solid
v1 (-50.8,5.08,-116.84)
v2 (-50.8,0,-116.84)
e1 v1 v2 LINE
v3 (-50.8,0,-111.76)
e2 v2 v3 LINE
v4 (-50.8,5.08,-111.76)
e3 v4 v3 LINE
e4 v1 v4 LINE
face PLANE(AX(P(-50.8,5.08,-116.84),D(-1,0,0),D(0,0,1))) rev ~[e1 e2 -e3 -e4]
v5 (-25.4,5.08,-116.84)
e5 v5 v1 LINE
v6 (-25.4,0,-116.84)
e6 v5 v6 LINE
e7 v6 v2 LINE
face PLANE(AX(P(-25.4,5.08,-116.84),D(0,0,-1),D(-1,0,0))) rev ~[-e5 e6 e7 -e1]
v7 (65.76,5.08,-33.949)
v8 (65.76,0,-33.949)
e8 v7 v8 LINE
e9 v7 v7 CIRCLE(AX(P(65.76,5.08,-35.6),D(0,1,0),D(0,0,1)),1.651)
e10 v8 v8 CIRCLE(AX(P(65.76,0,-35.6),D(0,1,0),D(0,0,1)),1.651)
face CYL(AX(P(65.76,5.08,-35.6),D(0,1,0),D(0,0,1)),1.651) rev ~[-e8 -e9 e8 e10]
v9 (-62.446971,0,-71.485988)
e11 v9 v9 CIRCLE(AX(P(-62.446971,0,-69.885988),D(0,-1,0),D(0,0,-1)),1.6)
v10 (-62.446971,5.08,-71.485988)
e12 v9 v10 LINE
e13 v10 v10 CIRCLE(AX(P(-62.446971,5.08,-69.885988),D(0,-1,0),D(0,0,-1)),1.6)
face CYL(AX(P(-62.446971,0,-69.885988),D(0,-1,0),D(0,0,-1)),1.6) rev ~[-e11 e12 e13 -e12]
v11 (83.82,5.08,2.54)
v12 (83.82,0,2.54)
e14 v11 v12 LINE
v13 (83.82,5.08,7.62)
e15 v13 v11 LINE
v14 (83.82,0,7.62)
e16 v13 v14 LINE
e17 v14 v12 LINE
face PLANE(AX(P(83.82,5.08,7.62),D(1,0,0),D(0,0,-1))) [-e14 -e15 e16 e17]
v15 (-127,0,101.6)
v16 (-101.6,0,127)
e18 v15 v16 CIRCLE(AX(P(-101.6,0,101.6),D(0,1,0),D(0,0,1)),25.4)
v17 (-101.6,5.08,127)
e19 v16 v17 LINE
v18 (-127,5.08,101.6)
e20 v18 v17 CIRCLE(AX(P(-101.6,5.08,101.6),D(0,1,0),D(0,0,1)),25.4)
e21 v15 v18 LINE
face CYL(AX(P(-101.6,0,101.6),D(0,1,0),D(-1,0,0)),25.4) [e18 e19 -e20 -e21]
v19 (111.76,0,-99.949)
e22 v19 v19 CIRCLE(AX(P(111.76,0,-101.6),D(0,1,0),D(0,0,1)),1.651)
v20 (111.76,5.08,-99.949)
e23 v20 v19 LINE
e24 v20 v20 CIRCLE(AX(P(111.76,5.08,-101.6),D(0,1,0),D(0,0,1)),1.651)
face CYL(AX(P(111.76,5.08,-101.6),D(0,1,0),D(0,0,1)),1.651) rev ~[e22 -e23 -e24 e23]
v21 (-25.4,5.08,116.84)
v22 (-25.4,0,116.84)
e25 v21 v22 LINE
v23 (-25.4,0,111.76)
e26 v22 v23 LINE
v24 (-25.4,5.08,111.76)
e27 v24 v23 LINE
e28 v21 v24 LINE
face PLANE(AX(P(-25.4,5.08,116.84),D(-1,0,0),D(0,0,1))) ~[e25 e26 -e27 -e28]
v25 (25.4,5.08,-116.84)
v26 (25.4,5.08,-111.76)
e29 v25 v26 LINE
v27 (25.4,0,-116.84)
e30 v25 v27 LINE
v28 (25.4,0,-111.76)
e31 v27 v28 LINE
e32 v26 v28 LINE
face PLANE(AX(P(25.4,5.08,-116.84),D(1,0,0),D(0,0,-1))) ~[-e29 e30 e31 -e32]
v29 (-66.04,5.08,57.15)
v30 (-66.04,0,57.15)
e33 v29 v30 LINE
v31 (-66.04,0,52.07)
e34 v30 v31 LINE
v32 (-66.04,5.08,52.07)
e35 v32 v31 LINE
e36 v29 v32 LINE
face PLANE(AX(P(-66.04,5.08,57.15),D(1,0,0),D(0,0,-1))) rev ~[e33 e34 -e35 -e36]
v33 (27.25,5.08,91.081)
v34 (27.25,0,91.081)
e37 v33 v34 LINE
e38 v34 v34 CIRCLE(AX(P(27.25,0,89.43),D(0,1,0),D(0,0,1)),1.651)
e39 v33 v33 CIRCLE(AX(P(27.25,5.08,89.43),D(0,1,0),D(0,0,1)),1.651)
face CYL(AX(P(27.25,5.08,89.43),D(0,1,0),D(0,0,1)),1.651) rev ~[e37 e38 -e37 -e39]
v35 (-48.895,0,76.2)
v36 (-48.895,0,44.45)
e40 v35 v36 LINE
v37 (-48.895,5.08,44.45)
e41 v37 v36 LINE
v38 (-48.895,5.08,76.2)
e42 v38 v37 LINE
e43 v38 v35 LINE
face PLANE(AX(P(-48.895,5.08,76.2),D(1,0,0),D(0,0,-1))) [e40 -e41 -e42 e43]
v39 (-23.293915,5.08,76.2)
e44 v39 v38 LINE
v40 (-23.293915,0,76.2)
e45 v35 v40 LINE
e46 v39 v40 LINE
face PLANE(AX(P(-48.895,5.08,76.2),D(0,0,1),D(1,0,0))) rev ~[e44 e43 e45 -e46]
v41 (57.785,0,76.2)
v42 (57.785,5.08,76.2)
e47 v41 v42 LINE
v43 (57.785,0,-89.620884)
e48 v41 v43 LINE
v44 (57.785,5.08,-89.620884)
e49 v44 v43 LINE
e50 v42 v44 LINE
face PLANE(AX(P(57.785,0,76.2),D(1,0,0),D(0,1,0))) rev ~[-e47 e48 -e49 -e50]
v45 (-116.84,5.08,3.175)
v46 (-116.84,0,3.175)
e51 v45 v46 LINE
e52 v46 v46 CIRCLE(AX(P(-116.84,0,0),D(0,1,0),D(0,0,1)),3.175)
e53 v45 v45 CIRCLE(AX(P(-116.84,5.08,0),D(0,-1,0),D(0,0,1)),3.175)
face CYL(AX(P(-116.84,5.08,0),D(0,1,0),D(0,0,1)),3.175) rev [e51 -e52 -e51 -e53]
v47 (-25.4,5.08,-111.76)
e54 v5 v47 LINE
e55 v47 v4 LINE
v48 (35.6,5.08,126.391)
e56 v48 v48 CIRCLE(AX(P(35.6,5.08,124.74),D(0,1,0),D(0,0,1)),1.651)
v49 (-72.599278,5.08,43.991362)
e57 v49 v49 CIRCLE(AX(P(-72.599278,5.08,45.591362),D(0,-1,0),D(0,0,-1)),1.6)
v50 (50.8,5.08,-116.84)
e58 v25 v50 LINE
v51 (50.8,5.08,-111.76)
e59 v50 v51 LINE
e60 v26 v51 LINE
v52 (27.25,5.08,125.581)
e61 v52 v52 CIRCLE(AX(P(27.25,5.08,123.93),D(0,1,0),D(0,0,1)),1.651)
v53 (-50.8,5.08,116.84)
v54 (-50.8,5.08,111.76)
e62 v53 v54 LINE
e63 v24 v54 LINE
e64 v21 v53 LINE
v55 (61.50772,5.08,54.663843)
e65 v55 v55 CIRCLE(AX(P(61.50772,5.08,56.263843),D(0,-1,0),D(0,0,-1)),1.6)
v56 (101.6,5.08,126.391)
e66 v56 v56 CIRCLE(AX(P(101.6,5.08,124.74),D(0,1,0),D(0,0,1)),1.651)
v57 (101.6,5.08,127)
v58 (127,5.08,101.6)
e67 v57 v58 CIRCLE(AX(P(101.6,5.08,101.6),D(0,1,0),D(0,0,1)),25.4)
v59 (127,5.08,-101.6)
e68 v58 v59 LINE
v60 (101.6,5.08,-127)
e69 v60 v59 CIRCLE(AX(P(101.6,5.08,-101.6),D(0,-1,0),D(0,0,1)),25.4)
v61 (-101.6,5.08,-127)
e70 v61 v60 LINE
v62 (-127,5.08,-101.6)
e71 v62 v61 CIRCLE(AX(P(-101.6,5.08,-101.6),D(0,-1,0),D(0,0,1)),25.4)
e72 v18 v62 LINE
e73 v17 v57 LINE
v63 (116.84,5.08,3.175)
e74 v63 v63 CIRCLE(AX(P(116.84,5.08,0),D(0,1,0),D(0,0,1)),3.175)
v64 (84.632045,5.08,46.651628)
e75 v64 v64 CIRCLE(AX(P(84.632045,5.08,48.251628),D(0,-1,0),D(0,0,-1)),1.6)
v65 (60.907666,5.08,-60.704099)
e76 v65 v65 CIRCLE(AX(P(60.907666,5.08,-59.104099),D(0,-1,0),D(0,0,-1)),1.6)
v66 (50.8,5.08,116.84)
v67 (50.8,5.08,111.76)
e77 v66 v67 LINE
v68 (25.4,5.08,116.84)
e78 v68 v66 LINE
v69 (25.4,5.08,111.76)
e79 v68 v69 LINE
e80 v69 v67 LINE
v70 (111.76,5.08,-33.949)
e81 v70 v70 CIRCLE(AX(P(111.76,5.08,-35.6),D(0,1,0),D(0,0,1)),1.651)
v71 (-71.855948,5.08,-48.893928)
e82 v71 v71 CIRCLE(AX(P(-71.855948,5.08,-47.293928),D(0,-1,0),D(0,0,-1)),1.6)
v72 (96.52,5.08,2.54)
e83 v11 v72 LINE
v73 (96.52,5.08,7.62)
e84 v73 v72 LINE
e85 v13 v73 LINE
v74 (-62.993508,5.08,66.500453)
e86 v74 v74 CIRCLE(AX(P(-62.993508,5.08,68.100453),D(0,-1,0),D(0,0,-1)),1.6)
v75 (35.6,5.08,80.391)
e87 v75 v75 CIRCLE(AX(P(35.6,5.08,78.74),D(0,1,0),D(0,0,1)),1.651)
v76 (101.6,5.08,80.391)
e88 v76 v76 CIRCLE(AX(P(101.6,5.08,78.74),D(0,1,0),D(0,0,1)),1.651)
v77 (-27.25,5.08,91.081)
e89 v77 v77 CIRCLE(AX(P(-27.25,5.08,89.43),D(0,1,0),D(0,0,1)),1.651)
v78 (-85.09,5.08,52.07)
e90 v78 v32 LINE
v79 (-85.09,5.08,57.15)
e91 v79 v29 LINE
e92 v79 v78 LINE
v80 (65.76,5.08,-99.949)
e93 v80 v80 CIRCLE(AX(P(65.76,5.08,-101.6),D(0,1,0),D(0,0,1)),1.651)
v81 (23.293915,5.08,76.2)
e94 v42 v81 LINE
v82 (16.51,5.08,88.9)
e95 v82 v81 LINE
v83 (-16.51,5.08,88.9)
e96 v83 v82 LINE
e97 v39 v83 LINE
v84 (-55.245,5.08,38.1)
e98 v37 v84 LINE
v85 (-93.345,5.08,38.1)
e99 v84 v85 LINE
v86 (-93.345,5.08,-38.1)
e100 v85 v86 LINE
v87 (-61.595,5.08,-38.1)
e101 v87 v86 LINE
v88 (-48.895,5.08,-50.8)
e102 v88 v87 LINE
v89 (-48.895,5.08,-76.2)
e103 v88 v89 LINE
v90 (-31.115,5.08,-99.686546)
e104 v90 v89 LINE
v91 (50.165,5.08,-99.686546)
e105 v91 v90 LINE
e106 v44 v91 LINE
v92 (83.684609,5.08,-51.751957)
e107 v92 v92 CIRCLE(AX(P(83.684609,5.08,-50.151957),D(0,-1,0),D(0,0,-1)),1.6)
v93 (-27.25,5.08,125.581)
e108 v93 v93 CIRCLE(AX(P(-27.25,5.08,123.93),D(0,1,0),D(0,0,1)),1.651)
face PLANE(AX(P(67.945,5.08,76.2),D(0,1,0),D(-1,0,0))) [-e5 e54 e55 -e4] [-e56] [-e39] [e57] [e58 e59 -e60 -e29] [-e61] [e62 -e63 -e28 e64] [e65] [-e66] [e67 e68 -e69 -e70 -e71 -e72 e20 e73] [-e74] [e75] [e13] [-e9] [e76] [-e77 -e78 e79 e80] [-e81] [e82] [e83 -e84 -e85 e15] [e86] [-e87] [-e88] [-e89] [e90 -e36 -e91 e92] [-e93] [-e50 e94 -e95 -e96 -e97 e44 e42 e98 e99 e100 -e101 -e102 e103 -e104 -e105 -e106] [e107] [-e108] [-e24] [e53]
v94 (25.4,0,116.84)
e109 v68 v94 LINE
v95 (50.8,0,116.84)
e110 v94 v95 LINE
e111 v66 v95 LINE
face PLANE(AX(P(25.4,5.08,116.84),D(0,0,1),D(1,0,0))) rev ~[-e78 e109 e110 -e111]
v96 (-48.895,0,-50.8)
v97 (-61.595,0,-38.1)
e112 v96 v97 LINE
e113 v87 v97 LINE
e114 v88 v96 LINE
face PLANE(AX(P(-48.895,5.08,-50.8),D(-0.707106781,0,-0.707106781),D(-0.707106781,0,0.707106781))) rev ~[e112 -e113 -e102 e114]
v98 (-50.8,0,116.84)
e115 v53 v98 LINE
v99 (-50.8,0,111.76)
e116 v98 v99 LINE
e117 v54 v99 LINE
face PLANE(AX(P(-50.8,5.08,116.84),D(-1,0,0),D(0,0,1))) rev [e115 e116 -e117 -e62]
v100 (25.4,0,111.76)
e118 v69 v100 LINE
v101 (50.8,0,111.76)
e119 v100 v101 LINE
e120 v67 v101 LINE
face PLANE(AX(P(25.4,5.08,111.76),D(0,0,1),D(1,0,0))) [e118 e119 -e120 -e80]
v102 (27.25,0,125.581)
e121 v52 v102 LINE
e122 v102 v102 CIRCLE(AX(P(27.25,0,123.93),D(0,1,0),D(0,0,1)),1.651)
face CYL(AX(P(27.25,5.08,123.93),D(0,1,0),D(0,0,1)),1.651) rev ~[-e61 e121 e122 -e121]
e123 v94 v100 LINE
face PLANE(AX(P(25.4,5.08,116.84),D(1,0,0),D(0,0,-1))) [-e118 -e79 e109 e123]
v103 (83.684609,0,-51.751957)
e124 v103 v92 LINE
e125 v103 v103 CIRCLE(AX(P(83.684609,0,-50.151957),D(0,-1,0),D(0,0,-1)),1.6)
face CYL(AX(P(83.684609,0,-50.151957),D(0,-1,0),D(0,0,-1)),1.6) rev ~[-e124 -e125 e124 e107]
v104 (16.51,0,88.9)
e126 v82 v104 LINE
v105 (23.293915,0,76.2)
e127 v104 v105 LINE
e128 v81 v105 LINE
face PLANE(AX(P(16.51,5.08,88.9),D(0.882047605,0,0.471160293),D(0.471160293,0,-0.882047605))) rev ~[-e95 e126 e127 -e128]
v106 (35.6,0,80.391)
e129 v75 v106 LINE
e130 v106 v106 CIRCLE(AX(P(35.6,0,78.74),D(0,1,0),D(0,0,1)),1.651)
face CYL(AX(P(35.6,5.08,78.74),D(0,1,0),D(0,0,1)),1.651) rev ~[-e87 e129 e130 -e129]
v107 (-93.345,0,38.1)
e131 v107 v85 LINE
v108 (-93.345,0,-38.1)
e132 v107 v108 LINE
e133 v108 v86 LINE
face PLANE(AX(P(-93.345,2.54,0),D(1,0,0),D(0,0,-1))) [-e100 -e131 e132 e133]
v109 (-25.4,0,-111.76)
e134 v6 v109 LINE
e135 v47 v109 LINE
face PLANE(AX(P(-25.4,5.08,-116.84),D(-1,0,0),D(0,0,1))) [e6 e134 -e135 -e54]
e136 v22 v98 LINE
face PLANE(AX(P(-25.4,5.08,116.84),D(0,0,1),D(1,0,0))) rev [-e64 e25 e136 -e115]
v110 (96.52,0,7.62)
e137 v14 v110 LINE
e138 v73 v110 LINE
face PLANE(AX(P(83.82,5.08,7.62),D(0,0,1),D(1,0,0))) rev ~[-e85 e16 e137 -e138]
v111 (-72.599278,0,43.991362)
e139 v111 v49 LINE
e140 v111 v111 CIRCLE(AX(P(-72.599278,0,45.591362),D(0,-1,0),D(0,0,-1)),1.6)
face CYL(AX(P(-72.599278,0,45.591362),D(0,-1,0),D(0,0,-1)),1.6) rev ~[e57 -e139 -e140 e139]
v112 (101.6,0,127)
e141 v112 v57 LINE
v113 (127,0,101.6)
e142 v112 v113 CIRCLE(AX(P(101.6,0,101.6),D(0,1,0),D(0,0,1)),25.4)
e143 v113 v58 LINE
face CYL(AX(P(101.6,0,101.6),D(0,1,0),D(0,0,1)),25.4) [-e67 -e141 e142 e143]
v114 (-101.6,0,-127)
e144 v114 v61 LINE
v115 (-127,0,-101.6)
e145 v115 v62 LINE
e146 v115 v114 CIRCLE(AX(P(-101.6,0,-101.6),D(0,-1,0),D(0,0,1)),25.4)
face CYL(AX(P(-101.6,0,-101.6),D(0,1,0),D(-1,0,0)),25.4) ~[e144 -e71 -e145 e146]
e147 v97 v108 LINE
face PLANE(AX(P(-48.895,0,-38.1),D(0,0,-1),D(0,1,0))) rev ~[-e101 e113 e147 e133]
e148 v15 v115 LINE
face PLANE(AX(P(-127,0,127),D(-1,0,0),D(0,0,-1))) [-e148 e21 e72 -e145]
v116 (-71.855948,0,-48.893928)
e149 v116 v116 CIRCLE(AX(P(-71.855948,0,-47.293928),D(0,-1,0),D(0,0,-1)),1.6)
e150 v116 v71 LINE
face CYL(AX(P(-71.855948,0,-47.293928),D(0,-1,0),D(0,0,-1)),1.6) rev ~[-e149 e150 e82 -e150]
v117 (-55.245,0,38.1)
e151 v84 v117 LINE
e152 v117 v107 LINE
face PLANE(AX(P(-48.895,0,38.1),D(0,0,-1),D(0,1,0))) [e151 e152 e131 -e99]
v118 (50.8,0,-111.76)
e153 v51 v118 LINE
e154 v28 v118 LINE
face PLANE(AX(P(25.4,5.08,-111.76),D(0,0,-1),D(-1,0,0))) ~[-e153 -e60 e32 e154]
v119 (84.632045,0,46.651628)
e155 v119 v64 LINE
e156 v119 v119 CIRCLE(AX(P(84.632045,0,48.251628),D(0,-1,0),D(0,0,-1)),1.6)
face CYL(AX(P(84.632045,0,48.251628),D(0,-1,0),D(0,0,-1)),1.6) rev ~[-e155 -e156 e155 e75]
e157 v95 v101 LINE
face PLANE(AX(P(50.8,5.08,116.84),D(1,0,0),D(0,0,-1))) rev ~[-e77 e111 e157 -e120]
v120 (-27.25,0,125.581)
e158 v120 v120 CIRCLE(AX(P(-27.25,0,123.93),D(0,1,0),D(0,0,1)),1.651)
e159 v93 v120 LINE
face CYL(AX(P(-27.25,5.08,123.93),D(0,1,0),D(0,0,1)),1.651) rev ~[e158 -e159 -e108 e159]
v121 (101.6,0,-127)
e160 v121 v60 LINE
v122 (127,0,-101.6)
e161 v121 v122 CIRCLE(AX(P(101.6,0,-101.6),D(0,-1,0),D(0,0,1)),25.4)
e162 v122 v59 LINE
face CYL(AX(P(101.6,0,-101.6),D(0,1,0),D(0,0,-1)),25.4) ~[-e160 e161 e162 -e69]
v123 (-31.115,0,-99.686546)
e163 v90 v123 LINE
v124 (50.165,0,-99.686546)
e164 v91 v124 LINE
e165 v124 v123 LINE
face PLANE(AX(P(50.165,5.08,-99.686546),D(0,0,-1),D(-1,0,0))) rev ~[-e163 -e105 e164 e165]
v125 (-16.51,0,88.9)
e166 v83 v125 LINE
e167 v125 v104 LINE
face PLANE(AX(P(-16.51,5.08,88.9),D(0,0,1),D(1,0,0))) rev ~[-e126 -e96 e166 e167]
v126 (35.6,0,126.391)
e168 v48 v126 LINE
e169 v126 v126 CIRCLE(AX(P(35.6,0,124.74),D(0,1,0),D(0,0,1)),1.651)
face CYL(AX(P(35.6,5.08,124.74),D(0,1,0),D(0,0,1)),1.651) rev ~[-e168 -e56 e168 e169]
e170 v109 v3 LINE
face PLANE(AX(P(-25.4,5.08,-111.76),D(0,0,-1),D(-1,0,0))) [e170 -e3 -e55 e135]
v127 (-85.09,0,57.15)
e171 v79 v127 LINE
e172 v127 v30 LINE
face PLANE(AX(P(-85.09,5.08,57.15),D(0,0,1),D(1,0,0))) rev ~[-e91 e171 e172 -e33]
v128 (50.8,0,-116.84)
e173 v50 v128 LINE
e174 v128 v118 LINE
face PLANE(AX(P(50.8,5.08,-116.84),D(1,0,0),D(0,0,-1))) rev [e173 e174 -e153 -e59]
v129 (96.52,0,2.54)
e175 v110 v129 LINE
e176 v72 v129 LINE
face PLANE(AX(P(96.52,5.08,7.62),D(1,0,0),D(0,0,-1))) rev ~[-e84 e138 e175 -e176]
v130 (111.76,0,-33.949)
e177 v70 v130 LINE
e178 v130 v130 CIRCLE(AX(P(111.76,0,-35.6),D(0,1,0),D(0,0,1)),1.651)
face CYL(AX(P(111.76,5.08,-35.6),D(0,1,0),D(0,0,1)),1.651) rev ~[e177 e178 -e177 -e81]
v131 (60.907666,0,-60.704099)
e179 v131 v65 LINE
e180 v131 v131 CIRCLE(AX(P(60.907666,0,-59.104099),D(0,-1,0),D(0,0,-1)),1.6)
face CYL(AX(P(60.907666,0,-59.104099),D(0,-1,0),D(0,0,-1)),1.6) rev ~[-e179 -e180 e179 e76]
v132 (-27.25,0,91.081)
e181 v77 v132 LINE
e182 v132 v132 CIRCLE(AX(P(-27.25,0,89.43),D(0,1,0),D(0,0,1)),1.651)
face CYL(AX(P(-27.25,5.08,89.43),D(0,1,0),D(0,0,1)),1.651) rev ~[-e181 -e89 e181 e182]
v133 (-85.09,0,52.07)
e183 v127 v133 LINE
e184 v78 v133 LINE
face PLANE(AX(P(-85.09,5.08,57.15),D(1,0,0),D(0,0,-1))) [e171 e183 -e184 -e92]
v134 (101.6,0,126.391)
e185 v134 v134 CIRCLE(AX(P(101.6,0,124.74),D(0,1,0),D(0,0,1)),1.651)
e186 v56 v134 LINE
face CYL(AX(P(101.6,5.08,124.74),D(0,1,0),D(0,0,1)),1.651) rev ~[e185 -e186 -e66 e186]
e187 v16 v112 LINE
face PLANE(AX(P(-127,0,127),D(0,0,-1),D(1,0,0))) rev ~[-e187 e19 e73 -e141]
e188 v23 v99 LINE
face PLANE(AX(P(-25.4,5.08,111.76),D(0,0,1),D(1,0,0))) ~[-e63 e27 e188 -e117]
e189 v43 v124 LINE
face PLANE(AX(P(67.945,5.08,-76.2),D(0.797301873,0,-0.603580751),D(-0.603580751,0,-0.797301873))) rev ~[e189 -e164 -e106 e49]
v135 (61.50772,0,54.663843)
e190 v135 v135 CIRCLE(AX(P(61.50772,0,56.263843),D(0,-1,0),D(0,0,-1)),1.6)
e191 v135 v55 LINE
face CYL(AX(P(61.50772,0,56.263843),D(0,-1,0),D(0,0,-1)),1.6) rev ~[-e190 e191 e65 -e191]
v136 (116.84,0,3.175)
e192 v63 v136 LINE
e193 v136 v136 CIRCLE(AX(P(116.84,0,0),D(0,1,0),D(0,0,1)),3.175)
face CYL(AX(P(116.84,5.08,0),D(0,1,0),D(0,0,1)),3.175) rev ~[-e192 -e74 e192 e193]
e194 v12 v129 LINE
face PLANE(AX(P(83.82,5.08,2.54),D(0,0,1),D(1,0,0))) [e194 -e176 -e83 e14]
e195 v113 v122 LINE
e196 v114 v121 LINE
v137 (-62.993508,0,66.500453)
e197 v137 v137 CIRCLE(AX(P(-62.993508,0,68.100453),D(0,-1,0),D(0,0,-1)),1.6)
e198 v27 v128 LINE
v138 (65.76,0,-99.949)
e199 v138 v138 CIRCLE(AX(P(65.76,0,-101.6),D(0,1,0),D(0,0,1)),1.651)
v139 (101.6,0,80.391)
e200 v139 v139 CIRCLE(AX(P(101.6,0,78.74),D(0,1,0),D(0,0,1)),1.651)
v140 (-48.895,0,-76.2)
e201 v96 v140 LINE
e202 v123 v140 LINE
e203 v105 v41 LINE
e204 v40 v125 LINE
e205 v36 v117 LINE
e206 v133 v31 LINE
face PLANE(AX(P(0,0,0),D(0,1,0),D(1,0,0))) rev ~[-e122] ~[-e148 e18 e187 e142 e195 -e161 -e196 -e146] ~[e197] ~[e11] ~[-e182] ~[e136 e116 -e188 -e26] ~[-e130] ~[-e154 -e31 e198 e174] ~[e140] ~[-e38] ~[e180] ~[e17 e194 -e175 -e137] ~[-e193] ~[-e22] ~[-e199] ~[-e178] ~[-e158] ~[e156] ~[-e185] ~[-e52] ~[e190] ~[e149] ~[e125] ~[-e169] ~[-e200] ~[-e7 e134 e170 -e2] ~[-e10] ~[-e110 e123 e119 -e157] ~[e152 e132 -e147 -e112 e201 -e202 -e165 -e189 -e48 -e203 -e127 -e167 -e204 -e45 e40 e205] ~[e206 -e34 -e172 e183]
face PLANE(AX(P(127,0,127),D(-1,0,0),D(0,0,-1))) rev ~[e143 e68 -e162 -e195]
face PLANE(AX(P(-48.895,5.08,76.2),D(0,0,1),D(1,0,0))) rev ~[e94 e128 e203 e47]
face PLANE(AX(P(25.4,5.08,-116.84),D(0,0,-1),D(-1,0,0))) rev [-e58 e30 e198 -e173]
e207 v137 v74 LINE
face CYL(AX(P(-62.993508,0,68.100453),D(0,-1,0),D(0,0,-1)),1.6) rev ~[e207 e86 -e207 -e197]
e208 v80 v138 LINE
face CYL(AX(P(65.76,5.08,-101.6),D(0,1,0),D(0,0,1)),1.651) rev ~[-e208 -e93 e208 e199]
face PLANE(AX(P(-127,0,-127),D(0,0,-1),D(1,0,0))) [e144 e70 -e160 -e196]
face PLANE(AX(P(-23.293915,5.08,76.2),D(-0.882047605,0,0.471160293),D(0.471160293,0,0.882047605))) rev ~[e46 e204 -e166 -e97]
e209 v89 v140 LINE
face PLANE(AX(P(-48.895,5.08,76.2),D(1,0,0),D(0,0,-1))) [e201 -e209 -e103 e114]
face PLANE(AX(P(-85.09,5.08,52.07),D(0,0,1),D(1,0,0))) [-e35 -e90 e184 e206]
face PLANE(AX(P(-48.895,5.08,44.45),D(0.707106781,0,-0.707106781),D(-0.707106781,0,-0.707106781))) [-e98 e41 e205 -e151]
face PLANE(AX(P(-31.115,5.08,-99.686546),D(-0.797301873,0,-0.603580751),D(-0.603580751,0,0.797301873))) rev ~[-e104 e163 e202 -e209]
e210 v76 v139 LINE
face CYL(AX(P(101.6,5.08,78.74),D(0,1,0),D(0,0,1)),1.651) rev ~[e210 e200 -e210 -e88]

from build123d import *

# Parameters (mm, degrees)
SKETCH1_W               = 254
SKETCH1_H               = 254
PLATFORM_BASE_DEPTH     = 5.08
SKETCH5_W               = 97.79
SKETCH5_H               = 152.4
CUT_EXTRUDE3_DEPTH      = 180.676950108
SKETCH6_W               = 25.4
SKETCH6_H               = 5.08
CUT_EXTRUDE4_DEPTH      = 180.676950108
CORNER_ROUNDING_R       = 25.4
MIRROR6_COPY_1_SKETCH_W = 25.4
MIRROR6_COPY_1_SKETCH_H = 5.08
MIRROR6_COPY_1_DEPTH    = 180.676950108
MIRROR6_COPY_2_SKETCH_W = 25.4
MIRROR6_COPY_2_SKETCH_H = 5.08
MIRROR6_COPY_2_DEPTH    = 180.676950108
SKETCH7_R               = 3.175
CUT_EXTRUDE5_DEPTH      = 180.676950108
SKETCH11_W              = 12.7
SKETCH11_H              = 5.08
CUT_EXTRUDE8_DEPTH      = 180.676950108
SKETCH12_W              = 19.05
SKETCH12_H              = 5.08
CUT_EXTRUDE10_DEPTH     = 16.51
SKETCH14_W              = 152.4
SKETCH14_H              = 8.030698274
CUT_EXTRUDE12_DEPTH     = 19.05
SKETCH16_W              = 76.2
SKETCH16_H              = 5.08
CUT_EXTRUDE14_DEPTH     = 44.45
CUT_EXTRUDE16_DEPTH     = 180.676950108
CUT_EXTRUDE18_DEPTH     = 180.676950108
CUT_EXTRUDE19_DEPTH     = 180.676950108
CUT_EXTRUDE20_DEPTH     = 180.676950108
SKETCH27_W              = 10.16
SKETCH27_H              = 5.08
BOSS_EXTRUDE1_DEPTH     = 177.8
SKETCH28_R              = 1.6
CUT_EXTRUDE22_DEPTH     = 180.676950108
SKETCH29_R              = 1.651
CUT_EXTRUDE23_DEPTH     = 180.676950108
SKETCH30_R              = 1.651
CUT_EXTRUDE24_DEPTH     = 180.676950108
SKETCH32_R              = 1.651
CUT_EXTRUDE26_DEPTH     = 180.676950108


with BuildPart() as part:
    # Sketch1 → Platform-Base (new body)
    with BuildSketch(Plane(origin=(0, 0, 0), x_dir=(1, 0, 0), z_dir=(0, 1, 0))):
        Rectangle(SKETCH1_W, SKETCH1_H)
    extrude(amount=PLATFORM_BASE_DEPTH)

    # Sketch5 → Cut-Extrude3 (cut, through all)
    with BuildSketch(Plane(origin=(0, 5.08, 0), x_dir=(1, 0, 0), z_dir=(0, 1, 0))):
        Rectangle(SKETCH5_W, SKETCH5_H)
    extrude(amount=-CUT_EXTRUDE3_DEPTH, mode=Mode.SUBTRACT)

    # Sketch6 → Cut-Extrude4 (cut, through all)
    with BuildSketch(Plane(origin=(0, 5.08, 0), x_dir=(1, 0, 0), z_dir=(0, 1, 0))):
        with Locations((38.1, -114.3)):
            Rectangle(SKETCH6_W, SKETCH6_H)
    cut_extrude4 = extrude(amount=-CUT_EXTRUDE4_DEPTH, mode=Mode.SUBTRACT)

    # Mirror4: Cut-Extrude4 across plane
    add(cut_extrude4.mirror(Plane.XY), mode=Mode.SUBTRACT)

    # Corner-Rounding
    corner_rounding_edges = [part.edges().sort_by_distance(p)[0] for p in [
        (-127, 2.54, -127),
        (127, 2.54, -127),
        (127, 2.54, 127),
        (-127, 2.54, 127),
    ]]
    fillet(corner_rounding_edges, radius=CORNER_ROUNDING_R)

    # Mirror6 copy 1 sketch → Mirror6 copy 1 (cut, through all)
    with BuildSketch(Plane(origin=(0, 5.08, 0), x_dir=(-1, 0, 0), z_dir=(0, 1, 0))):
        with Locations((38.1, -114.3)):
            Rectangle(MIRROR6_COPY_1_SKETCH_W, MIRROR6_COPY_1_SKETCH_H)
    extrude(amount=-MIRROR6_COPY_1_DEPTH, mode=Mode.SUBTRACT)

    # Mirror6 copy 2 sketch → Mirror6 copy 2 (cut, through all)
    with BuildSketch(Plane(origin=(0, 5.08, 0), x_dir=(-1, 0, 0), z_dir=(0, 1, 0))):
        with Locations((38.1, 114.3)):
            Rectangle(MIRROR6_COPY_2_SKETCH_W, MIRROR6_COPY_2_SKETCH_H)
    extrude(amount=-MIRROR6_COPY_2_DEPTH, mode=Mode.SUBTRACT)

    # Sketch7 → Cut-Extrude5 (cut, through all)
    with BuildSketch(Plane(origin=(0, 5.08, 0), x_dir=(1, 0, 0), z_dir=(0, 1, 0))):
        with Locations((116.84, 0)):
            Circle(SKETCH7_R)
    cut_extrude5 = extrude(amount=-CUT_EXTRUDE5_DEPTH, mode=Mode.SUBTRACT)

    # Mirror7: Cut-Extrude5 across plane
    add(cut_extrude5.mirror(Plane.ZY), mode=Mode.SUBTRACT)

    # Sketch11 → Cut-Extrude8 (cut, through all)
    with BuildSketch(Plane(origin=(0, 5.08, 0), x_dir=(1, 0, 0), z_dir=(0, 1, 0))):
        with Locations((90.17, -5.08)):
            Rectangle(SKETCH11_W, SKETCH11_H)
    extrude(amount=-CUT_EXTRUDE8_DEPTH, mode=Mode.SUBTRACT)

    # Sketch12 → Cut-Extrude10 (cut)
    with BuildSketch(Plane(origin=(0, 5.08, 0), x_dir=(1, 0, 0), z_dir=(0, 1, 0))):
        with Locations((-75.565, -54.61)):
            Rectangle(SKETCH12_W, SKETCH12_H)
    extrude(amount=-CUT_EXTRUDE10_DEPTH, mode=Mode.SUBTRACT)

    # Sketch14 → Cut-Extrude12 (cut)
    with BuildSketch(Plane.ZY.offset(-48.895)):
        with Locations((0, 3.604650863)):
            Rectangle(SKETCH14_W, SKETCH14_H)
    extrude(amount=-CUT_EXTRUDE12_DEPTH, mode=Mode.SUBTRACT)

    # Sketch16 → Cut-Extrude14 (cut)
    with BuildSketch(Plane(origin=(-48.895, 0, 0), x_dir=(0, 0, -1), z_dir=(1, 0, 0))):
        with Locations((0, 2.54)):
            Rectangle(SKETCH16_W, SKETCH16_H)
    extrude(amount=-CUT_EXTRUDE14_DEPTH, mode=Mode.SUBTRACT)

    # Sketch18 → Cut-Extrude16 (cut, through all)
    with BuildSketch(Plane(origin=(0, 5.08, 0), x_dir=(1, 0, 0), z_dir=(0, 1, 0))):
        Polygon((-48.895, 76.2), (-26.616832453, 34.380865163), (67.945, 76.2), (50.165, 99.686546388), (-31.115, 99.686546388), align=None)
    extrude(amount=-CUT_EXTRUDE16_DEPTH, mode=Mode.SUBTRACT)

    # Sketch20 → Cut-Extrude18 (cut, through all)
    with BuildSketch(Plane(origin=(0, 5.08, 0), x_dir=(1, 0, 0), z_dir=(0, 1, 0))):
        Polygon((-48.895, 38.1), (-48.895, 50.8), (-61.595, 38.1), align=None)
    extrude(amount=-CUT_EXTRUDE18_DEPTH, mode=Mode.SUBTRACT)

    # Sketch21 → Cut-Extrude19 (cut, through all)
    with BuildSketch(Plane(origin=(0, 5.08, 0), x_dir=(1, 0, 0), z_dir=(0, 1, 0))):
        Polygon((-48.895, -38.1), (-48.895, -44.45), (-55.245, -38.1), align=None)
    extrude(amount=-CUT_EXTRUDE19_DEPTH, mode=Mode.SUBTRACT)

    # Sketch22 → Cut-Extrude20 (cut, through all)
    with BuildSketch(Plane(origin=(0, 5.08, 0), x_dir=(1, 0, 0), z_dir=(0, 1, 0))):
        Polygon((0, -88.9), (16.51, -88.9), (23.293914706, -76.2), (-5.638297494, -47.784601192), (-23.293914706, -76.2), (-16.51, -88.9), align=None)
    extrude(amount=-CUT_EXTRUDE20_DEPTH, mode=Mode.SUBTRACT)

    # Sketch27 → Boss-Extrude1 (add)
    with BuildSketch(Plane(origin=(0, 0, 76.2), x_dir=(-1, 0, 0), z_dir=(0, 0, -1))):
        with Locations((-62.865, 2.54)):
            Rectangle(SKETCH27_W, SKETCH27_H)
    extrude(amount=BOSS_EXTRUDE1_DEPTH)

    # Sketch28 → Cut-Extrude22 (cut, through all)
    with BuildSketch(Plane.XZ):
        with Locations((-62.993507929, 68.100453228)):
            Circle(SKETCH28_R)
        with Locations((-72.599277809, 45.591362065)):
            Circle(SKETCH28_R)
        with Locations((-71.85594825, -47.293928362)):
            Circle(SKETCH28_R)
        with Locations((-62.446970512, -69.88598754)):
            Circle(SKETCH28_R)
        with Locations((60.907666067, -59.104099387)):
            Circle(SKETCH28_R)
        with Locations((83.684609303, -50.151956805)):
            Circle(SKETCH28_R)
        with Locations((84.63204517, 48.251627594)):
            Circle(SKETCH28_R)
        with Locations((61.507720386, 56.263843475)):
            Circle(SKETCH28_R)
    extrude(amount=-CUT_EXTRUDE22_DEPTH, mode=Mode.SUBTRACT)

    # Sketch29 → Cut-Extrude23 (cut, through all)
    with BuildSketch(Plane(origin=(0, 5.08, 0), x_dir=(1, 0, 0), z_dir=(0, 1, 0))):
        with Locations((-27.25, -123.93)):
            Circle(SKETCH29_R)
        with Locations((-27.25, -89.43)):
            Circle(SKETCH29_R)
        with Locations((27.25, -89.43)):
            Circle(SKETCH29_R)
        with Locations((27.25, -123.93)):
            Circle(SKETCH29_R)
    extrude(amount=-CUT_EXTRUDE23_DEPTH, mode=Mode.SUBTRACT)

    # Sketch30 → Cut-Extrude24 (cut, through all)
    with BuildSketch(Plane(origin=(0, 5.08, 0), x_dir=(1, 0, 0), z_dir=(0, 1, 0))):
        with Locations((101.6, -124.74)):
            Circle(SKETCH30_R)
        with Locations((35.6, -124.74)):
            Circle(SKETCH30_R)
        with Locations((35.6, -78.74)):
            Circle(SKETCH30_R)
        with Locations((101.6, -78.74)):
            Circle(SKETCH30_R)
    extrude(amount=-CUT_EXTRUDE24_DEPTH, mode=Mode.SUBTRACT)

    # Sketch32 → Cut-Extrude26 (cut, through all)
    with BuildSketch(Plane(origin=(0, 5.08, 0), x_dir=(1, 0, 0), z_dir=(0, 1, 0))):
        with Locations((65.76, 35.6)):
            Circle(SKETCH32_R)
        with Locations((111.76, 35.6)):
            Circle(SKETCH32_R)
        with Locations((111.76, 101.6)):
            Circle(SKETCH32_R)
        with Locations((65.76, 101.6)):
            Circle(SKETCH32_R)
    extrude(amount=-CUT_EXTRUDE26_DEPTH, mode=Mode.SUBTRACT)


solid = part.part
